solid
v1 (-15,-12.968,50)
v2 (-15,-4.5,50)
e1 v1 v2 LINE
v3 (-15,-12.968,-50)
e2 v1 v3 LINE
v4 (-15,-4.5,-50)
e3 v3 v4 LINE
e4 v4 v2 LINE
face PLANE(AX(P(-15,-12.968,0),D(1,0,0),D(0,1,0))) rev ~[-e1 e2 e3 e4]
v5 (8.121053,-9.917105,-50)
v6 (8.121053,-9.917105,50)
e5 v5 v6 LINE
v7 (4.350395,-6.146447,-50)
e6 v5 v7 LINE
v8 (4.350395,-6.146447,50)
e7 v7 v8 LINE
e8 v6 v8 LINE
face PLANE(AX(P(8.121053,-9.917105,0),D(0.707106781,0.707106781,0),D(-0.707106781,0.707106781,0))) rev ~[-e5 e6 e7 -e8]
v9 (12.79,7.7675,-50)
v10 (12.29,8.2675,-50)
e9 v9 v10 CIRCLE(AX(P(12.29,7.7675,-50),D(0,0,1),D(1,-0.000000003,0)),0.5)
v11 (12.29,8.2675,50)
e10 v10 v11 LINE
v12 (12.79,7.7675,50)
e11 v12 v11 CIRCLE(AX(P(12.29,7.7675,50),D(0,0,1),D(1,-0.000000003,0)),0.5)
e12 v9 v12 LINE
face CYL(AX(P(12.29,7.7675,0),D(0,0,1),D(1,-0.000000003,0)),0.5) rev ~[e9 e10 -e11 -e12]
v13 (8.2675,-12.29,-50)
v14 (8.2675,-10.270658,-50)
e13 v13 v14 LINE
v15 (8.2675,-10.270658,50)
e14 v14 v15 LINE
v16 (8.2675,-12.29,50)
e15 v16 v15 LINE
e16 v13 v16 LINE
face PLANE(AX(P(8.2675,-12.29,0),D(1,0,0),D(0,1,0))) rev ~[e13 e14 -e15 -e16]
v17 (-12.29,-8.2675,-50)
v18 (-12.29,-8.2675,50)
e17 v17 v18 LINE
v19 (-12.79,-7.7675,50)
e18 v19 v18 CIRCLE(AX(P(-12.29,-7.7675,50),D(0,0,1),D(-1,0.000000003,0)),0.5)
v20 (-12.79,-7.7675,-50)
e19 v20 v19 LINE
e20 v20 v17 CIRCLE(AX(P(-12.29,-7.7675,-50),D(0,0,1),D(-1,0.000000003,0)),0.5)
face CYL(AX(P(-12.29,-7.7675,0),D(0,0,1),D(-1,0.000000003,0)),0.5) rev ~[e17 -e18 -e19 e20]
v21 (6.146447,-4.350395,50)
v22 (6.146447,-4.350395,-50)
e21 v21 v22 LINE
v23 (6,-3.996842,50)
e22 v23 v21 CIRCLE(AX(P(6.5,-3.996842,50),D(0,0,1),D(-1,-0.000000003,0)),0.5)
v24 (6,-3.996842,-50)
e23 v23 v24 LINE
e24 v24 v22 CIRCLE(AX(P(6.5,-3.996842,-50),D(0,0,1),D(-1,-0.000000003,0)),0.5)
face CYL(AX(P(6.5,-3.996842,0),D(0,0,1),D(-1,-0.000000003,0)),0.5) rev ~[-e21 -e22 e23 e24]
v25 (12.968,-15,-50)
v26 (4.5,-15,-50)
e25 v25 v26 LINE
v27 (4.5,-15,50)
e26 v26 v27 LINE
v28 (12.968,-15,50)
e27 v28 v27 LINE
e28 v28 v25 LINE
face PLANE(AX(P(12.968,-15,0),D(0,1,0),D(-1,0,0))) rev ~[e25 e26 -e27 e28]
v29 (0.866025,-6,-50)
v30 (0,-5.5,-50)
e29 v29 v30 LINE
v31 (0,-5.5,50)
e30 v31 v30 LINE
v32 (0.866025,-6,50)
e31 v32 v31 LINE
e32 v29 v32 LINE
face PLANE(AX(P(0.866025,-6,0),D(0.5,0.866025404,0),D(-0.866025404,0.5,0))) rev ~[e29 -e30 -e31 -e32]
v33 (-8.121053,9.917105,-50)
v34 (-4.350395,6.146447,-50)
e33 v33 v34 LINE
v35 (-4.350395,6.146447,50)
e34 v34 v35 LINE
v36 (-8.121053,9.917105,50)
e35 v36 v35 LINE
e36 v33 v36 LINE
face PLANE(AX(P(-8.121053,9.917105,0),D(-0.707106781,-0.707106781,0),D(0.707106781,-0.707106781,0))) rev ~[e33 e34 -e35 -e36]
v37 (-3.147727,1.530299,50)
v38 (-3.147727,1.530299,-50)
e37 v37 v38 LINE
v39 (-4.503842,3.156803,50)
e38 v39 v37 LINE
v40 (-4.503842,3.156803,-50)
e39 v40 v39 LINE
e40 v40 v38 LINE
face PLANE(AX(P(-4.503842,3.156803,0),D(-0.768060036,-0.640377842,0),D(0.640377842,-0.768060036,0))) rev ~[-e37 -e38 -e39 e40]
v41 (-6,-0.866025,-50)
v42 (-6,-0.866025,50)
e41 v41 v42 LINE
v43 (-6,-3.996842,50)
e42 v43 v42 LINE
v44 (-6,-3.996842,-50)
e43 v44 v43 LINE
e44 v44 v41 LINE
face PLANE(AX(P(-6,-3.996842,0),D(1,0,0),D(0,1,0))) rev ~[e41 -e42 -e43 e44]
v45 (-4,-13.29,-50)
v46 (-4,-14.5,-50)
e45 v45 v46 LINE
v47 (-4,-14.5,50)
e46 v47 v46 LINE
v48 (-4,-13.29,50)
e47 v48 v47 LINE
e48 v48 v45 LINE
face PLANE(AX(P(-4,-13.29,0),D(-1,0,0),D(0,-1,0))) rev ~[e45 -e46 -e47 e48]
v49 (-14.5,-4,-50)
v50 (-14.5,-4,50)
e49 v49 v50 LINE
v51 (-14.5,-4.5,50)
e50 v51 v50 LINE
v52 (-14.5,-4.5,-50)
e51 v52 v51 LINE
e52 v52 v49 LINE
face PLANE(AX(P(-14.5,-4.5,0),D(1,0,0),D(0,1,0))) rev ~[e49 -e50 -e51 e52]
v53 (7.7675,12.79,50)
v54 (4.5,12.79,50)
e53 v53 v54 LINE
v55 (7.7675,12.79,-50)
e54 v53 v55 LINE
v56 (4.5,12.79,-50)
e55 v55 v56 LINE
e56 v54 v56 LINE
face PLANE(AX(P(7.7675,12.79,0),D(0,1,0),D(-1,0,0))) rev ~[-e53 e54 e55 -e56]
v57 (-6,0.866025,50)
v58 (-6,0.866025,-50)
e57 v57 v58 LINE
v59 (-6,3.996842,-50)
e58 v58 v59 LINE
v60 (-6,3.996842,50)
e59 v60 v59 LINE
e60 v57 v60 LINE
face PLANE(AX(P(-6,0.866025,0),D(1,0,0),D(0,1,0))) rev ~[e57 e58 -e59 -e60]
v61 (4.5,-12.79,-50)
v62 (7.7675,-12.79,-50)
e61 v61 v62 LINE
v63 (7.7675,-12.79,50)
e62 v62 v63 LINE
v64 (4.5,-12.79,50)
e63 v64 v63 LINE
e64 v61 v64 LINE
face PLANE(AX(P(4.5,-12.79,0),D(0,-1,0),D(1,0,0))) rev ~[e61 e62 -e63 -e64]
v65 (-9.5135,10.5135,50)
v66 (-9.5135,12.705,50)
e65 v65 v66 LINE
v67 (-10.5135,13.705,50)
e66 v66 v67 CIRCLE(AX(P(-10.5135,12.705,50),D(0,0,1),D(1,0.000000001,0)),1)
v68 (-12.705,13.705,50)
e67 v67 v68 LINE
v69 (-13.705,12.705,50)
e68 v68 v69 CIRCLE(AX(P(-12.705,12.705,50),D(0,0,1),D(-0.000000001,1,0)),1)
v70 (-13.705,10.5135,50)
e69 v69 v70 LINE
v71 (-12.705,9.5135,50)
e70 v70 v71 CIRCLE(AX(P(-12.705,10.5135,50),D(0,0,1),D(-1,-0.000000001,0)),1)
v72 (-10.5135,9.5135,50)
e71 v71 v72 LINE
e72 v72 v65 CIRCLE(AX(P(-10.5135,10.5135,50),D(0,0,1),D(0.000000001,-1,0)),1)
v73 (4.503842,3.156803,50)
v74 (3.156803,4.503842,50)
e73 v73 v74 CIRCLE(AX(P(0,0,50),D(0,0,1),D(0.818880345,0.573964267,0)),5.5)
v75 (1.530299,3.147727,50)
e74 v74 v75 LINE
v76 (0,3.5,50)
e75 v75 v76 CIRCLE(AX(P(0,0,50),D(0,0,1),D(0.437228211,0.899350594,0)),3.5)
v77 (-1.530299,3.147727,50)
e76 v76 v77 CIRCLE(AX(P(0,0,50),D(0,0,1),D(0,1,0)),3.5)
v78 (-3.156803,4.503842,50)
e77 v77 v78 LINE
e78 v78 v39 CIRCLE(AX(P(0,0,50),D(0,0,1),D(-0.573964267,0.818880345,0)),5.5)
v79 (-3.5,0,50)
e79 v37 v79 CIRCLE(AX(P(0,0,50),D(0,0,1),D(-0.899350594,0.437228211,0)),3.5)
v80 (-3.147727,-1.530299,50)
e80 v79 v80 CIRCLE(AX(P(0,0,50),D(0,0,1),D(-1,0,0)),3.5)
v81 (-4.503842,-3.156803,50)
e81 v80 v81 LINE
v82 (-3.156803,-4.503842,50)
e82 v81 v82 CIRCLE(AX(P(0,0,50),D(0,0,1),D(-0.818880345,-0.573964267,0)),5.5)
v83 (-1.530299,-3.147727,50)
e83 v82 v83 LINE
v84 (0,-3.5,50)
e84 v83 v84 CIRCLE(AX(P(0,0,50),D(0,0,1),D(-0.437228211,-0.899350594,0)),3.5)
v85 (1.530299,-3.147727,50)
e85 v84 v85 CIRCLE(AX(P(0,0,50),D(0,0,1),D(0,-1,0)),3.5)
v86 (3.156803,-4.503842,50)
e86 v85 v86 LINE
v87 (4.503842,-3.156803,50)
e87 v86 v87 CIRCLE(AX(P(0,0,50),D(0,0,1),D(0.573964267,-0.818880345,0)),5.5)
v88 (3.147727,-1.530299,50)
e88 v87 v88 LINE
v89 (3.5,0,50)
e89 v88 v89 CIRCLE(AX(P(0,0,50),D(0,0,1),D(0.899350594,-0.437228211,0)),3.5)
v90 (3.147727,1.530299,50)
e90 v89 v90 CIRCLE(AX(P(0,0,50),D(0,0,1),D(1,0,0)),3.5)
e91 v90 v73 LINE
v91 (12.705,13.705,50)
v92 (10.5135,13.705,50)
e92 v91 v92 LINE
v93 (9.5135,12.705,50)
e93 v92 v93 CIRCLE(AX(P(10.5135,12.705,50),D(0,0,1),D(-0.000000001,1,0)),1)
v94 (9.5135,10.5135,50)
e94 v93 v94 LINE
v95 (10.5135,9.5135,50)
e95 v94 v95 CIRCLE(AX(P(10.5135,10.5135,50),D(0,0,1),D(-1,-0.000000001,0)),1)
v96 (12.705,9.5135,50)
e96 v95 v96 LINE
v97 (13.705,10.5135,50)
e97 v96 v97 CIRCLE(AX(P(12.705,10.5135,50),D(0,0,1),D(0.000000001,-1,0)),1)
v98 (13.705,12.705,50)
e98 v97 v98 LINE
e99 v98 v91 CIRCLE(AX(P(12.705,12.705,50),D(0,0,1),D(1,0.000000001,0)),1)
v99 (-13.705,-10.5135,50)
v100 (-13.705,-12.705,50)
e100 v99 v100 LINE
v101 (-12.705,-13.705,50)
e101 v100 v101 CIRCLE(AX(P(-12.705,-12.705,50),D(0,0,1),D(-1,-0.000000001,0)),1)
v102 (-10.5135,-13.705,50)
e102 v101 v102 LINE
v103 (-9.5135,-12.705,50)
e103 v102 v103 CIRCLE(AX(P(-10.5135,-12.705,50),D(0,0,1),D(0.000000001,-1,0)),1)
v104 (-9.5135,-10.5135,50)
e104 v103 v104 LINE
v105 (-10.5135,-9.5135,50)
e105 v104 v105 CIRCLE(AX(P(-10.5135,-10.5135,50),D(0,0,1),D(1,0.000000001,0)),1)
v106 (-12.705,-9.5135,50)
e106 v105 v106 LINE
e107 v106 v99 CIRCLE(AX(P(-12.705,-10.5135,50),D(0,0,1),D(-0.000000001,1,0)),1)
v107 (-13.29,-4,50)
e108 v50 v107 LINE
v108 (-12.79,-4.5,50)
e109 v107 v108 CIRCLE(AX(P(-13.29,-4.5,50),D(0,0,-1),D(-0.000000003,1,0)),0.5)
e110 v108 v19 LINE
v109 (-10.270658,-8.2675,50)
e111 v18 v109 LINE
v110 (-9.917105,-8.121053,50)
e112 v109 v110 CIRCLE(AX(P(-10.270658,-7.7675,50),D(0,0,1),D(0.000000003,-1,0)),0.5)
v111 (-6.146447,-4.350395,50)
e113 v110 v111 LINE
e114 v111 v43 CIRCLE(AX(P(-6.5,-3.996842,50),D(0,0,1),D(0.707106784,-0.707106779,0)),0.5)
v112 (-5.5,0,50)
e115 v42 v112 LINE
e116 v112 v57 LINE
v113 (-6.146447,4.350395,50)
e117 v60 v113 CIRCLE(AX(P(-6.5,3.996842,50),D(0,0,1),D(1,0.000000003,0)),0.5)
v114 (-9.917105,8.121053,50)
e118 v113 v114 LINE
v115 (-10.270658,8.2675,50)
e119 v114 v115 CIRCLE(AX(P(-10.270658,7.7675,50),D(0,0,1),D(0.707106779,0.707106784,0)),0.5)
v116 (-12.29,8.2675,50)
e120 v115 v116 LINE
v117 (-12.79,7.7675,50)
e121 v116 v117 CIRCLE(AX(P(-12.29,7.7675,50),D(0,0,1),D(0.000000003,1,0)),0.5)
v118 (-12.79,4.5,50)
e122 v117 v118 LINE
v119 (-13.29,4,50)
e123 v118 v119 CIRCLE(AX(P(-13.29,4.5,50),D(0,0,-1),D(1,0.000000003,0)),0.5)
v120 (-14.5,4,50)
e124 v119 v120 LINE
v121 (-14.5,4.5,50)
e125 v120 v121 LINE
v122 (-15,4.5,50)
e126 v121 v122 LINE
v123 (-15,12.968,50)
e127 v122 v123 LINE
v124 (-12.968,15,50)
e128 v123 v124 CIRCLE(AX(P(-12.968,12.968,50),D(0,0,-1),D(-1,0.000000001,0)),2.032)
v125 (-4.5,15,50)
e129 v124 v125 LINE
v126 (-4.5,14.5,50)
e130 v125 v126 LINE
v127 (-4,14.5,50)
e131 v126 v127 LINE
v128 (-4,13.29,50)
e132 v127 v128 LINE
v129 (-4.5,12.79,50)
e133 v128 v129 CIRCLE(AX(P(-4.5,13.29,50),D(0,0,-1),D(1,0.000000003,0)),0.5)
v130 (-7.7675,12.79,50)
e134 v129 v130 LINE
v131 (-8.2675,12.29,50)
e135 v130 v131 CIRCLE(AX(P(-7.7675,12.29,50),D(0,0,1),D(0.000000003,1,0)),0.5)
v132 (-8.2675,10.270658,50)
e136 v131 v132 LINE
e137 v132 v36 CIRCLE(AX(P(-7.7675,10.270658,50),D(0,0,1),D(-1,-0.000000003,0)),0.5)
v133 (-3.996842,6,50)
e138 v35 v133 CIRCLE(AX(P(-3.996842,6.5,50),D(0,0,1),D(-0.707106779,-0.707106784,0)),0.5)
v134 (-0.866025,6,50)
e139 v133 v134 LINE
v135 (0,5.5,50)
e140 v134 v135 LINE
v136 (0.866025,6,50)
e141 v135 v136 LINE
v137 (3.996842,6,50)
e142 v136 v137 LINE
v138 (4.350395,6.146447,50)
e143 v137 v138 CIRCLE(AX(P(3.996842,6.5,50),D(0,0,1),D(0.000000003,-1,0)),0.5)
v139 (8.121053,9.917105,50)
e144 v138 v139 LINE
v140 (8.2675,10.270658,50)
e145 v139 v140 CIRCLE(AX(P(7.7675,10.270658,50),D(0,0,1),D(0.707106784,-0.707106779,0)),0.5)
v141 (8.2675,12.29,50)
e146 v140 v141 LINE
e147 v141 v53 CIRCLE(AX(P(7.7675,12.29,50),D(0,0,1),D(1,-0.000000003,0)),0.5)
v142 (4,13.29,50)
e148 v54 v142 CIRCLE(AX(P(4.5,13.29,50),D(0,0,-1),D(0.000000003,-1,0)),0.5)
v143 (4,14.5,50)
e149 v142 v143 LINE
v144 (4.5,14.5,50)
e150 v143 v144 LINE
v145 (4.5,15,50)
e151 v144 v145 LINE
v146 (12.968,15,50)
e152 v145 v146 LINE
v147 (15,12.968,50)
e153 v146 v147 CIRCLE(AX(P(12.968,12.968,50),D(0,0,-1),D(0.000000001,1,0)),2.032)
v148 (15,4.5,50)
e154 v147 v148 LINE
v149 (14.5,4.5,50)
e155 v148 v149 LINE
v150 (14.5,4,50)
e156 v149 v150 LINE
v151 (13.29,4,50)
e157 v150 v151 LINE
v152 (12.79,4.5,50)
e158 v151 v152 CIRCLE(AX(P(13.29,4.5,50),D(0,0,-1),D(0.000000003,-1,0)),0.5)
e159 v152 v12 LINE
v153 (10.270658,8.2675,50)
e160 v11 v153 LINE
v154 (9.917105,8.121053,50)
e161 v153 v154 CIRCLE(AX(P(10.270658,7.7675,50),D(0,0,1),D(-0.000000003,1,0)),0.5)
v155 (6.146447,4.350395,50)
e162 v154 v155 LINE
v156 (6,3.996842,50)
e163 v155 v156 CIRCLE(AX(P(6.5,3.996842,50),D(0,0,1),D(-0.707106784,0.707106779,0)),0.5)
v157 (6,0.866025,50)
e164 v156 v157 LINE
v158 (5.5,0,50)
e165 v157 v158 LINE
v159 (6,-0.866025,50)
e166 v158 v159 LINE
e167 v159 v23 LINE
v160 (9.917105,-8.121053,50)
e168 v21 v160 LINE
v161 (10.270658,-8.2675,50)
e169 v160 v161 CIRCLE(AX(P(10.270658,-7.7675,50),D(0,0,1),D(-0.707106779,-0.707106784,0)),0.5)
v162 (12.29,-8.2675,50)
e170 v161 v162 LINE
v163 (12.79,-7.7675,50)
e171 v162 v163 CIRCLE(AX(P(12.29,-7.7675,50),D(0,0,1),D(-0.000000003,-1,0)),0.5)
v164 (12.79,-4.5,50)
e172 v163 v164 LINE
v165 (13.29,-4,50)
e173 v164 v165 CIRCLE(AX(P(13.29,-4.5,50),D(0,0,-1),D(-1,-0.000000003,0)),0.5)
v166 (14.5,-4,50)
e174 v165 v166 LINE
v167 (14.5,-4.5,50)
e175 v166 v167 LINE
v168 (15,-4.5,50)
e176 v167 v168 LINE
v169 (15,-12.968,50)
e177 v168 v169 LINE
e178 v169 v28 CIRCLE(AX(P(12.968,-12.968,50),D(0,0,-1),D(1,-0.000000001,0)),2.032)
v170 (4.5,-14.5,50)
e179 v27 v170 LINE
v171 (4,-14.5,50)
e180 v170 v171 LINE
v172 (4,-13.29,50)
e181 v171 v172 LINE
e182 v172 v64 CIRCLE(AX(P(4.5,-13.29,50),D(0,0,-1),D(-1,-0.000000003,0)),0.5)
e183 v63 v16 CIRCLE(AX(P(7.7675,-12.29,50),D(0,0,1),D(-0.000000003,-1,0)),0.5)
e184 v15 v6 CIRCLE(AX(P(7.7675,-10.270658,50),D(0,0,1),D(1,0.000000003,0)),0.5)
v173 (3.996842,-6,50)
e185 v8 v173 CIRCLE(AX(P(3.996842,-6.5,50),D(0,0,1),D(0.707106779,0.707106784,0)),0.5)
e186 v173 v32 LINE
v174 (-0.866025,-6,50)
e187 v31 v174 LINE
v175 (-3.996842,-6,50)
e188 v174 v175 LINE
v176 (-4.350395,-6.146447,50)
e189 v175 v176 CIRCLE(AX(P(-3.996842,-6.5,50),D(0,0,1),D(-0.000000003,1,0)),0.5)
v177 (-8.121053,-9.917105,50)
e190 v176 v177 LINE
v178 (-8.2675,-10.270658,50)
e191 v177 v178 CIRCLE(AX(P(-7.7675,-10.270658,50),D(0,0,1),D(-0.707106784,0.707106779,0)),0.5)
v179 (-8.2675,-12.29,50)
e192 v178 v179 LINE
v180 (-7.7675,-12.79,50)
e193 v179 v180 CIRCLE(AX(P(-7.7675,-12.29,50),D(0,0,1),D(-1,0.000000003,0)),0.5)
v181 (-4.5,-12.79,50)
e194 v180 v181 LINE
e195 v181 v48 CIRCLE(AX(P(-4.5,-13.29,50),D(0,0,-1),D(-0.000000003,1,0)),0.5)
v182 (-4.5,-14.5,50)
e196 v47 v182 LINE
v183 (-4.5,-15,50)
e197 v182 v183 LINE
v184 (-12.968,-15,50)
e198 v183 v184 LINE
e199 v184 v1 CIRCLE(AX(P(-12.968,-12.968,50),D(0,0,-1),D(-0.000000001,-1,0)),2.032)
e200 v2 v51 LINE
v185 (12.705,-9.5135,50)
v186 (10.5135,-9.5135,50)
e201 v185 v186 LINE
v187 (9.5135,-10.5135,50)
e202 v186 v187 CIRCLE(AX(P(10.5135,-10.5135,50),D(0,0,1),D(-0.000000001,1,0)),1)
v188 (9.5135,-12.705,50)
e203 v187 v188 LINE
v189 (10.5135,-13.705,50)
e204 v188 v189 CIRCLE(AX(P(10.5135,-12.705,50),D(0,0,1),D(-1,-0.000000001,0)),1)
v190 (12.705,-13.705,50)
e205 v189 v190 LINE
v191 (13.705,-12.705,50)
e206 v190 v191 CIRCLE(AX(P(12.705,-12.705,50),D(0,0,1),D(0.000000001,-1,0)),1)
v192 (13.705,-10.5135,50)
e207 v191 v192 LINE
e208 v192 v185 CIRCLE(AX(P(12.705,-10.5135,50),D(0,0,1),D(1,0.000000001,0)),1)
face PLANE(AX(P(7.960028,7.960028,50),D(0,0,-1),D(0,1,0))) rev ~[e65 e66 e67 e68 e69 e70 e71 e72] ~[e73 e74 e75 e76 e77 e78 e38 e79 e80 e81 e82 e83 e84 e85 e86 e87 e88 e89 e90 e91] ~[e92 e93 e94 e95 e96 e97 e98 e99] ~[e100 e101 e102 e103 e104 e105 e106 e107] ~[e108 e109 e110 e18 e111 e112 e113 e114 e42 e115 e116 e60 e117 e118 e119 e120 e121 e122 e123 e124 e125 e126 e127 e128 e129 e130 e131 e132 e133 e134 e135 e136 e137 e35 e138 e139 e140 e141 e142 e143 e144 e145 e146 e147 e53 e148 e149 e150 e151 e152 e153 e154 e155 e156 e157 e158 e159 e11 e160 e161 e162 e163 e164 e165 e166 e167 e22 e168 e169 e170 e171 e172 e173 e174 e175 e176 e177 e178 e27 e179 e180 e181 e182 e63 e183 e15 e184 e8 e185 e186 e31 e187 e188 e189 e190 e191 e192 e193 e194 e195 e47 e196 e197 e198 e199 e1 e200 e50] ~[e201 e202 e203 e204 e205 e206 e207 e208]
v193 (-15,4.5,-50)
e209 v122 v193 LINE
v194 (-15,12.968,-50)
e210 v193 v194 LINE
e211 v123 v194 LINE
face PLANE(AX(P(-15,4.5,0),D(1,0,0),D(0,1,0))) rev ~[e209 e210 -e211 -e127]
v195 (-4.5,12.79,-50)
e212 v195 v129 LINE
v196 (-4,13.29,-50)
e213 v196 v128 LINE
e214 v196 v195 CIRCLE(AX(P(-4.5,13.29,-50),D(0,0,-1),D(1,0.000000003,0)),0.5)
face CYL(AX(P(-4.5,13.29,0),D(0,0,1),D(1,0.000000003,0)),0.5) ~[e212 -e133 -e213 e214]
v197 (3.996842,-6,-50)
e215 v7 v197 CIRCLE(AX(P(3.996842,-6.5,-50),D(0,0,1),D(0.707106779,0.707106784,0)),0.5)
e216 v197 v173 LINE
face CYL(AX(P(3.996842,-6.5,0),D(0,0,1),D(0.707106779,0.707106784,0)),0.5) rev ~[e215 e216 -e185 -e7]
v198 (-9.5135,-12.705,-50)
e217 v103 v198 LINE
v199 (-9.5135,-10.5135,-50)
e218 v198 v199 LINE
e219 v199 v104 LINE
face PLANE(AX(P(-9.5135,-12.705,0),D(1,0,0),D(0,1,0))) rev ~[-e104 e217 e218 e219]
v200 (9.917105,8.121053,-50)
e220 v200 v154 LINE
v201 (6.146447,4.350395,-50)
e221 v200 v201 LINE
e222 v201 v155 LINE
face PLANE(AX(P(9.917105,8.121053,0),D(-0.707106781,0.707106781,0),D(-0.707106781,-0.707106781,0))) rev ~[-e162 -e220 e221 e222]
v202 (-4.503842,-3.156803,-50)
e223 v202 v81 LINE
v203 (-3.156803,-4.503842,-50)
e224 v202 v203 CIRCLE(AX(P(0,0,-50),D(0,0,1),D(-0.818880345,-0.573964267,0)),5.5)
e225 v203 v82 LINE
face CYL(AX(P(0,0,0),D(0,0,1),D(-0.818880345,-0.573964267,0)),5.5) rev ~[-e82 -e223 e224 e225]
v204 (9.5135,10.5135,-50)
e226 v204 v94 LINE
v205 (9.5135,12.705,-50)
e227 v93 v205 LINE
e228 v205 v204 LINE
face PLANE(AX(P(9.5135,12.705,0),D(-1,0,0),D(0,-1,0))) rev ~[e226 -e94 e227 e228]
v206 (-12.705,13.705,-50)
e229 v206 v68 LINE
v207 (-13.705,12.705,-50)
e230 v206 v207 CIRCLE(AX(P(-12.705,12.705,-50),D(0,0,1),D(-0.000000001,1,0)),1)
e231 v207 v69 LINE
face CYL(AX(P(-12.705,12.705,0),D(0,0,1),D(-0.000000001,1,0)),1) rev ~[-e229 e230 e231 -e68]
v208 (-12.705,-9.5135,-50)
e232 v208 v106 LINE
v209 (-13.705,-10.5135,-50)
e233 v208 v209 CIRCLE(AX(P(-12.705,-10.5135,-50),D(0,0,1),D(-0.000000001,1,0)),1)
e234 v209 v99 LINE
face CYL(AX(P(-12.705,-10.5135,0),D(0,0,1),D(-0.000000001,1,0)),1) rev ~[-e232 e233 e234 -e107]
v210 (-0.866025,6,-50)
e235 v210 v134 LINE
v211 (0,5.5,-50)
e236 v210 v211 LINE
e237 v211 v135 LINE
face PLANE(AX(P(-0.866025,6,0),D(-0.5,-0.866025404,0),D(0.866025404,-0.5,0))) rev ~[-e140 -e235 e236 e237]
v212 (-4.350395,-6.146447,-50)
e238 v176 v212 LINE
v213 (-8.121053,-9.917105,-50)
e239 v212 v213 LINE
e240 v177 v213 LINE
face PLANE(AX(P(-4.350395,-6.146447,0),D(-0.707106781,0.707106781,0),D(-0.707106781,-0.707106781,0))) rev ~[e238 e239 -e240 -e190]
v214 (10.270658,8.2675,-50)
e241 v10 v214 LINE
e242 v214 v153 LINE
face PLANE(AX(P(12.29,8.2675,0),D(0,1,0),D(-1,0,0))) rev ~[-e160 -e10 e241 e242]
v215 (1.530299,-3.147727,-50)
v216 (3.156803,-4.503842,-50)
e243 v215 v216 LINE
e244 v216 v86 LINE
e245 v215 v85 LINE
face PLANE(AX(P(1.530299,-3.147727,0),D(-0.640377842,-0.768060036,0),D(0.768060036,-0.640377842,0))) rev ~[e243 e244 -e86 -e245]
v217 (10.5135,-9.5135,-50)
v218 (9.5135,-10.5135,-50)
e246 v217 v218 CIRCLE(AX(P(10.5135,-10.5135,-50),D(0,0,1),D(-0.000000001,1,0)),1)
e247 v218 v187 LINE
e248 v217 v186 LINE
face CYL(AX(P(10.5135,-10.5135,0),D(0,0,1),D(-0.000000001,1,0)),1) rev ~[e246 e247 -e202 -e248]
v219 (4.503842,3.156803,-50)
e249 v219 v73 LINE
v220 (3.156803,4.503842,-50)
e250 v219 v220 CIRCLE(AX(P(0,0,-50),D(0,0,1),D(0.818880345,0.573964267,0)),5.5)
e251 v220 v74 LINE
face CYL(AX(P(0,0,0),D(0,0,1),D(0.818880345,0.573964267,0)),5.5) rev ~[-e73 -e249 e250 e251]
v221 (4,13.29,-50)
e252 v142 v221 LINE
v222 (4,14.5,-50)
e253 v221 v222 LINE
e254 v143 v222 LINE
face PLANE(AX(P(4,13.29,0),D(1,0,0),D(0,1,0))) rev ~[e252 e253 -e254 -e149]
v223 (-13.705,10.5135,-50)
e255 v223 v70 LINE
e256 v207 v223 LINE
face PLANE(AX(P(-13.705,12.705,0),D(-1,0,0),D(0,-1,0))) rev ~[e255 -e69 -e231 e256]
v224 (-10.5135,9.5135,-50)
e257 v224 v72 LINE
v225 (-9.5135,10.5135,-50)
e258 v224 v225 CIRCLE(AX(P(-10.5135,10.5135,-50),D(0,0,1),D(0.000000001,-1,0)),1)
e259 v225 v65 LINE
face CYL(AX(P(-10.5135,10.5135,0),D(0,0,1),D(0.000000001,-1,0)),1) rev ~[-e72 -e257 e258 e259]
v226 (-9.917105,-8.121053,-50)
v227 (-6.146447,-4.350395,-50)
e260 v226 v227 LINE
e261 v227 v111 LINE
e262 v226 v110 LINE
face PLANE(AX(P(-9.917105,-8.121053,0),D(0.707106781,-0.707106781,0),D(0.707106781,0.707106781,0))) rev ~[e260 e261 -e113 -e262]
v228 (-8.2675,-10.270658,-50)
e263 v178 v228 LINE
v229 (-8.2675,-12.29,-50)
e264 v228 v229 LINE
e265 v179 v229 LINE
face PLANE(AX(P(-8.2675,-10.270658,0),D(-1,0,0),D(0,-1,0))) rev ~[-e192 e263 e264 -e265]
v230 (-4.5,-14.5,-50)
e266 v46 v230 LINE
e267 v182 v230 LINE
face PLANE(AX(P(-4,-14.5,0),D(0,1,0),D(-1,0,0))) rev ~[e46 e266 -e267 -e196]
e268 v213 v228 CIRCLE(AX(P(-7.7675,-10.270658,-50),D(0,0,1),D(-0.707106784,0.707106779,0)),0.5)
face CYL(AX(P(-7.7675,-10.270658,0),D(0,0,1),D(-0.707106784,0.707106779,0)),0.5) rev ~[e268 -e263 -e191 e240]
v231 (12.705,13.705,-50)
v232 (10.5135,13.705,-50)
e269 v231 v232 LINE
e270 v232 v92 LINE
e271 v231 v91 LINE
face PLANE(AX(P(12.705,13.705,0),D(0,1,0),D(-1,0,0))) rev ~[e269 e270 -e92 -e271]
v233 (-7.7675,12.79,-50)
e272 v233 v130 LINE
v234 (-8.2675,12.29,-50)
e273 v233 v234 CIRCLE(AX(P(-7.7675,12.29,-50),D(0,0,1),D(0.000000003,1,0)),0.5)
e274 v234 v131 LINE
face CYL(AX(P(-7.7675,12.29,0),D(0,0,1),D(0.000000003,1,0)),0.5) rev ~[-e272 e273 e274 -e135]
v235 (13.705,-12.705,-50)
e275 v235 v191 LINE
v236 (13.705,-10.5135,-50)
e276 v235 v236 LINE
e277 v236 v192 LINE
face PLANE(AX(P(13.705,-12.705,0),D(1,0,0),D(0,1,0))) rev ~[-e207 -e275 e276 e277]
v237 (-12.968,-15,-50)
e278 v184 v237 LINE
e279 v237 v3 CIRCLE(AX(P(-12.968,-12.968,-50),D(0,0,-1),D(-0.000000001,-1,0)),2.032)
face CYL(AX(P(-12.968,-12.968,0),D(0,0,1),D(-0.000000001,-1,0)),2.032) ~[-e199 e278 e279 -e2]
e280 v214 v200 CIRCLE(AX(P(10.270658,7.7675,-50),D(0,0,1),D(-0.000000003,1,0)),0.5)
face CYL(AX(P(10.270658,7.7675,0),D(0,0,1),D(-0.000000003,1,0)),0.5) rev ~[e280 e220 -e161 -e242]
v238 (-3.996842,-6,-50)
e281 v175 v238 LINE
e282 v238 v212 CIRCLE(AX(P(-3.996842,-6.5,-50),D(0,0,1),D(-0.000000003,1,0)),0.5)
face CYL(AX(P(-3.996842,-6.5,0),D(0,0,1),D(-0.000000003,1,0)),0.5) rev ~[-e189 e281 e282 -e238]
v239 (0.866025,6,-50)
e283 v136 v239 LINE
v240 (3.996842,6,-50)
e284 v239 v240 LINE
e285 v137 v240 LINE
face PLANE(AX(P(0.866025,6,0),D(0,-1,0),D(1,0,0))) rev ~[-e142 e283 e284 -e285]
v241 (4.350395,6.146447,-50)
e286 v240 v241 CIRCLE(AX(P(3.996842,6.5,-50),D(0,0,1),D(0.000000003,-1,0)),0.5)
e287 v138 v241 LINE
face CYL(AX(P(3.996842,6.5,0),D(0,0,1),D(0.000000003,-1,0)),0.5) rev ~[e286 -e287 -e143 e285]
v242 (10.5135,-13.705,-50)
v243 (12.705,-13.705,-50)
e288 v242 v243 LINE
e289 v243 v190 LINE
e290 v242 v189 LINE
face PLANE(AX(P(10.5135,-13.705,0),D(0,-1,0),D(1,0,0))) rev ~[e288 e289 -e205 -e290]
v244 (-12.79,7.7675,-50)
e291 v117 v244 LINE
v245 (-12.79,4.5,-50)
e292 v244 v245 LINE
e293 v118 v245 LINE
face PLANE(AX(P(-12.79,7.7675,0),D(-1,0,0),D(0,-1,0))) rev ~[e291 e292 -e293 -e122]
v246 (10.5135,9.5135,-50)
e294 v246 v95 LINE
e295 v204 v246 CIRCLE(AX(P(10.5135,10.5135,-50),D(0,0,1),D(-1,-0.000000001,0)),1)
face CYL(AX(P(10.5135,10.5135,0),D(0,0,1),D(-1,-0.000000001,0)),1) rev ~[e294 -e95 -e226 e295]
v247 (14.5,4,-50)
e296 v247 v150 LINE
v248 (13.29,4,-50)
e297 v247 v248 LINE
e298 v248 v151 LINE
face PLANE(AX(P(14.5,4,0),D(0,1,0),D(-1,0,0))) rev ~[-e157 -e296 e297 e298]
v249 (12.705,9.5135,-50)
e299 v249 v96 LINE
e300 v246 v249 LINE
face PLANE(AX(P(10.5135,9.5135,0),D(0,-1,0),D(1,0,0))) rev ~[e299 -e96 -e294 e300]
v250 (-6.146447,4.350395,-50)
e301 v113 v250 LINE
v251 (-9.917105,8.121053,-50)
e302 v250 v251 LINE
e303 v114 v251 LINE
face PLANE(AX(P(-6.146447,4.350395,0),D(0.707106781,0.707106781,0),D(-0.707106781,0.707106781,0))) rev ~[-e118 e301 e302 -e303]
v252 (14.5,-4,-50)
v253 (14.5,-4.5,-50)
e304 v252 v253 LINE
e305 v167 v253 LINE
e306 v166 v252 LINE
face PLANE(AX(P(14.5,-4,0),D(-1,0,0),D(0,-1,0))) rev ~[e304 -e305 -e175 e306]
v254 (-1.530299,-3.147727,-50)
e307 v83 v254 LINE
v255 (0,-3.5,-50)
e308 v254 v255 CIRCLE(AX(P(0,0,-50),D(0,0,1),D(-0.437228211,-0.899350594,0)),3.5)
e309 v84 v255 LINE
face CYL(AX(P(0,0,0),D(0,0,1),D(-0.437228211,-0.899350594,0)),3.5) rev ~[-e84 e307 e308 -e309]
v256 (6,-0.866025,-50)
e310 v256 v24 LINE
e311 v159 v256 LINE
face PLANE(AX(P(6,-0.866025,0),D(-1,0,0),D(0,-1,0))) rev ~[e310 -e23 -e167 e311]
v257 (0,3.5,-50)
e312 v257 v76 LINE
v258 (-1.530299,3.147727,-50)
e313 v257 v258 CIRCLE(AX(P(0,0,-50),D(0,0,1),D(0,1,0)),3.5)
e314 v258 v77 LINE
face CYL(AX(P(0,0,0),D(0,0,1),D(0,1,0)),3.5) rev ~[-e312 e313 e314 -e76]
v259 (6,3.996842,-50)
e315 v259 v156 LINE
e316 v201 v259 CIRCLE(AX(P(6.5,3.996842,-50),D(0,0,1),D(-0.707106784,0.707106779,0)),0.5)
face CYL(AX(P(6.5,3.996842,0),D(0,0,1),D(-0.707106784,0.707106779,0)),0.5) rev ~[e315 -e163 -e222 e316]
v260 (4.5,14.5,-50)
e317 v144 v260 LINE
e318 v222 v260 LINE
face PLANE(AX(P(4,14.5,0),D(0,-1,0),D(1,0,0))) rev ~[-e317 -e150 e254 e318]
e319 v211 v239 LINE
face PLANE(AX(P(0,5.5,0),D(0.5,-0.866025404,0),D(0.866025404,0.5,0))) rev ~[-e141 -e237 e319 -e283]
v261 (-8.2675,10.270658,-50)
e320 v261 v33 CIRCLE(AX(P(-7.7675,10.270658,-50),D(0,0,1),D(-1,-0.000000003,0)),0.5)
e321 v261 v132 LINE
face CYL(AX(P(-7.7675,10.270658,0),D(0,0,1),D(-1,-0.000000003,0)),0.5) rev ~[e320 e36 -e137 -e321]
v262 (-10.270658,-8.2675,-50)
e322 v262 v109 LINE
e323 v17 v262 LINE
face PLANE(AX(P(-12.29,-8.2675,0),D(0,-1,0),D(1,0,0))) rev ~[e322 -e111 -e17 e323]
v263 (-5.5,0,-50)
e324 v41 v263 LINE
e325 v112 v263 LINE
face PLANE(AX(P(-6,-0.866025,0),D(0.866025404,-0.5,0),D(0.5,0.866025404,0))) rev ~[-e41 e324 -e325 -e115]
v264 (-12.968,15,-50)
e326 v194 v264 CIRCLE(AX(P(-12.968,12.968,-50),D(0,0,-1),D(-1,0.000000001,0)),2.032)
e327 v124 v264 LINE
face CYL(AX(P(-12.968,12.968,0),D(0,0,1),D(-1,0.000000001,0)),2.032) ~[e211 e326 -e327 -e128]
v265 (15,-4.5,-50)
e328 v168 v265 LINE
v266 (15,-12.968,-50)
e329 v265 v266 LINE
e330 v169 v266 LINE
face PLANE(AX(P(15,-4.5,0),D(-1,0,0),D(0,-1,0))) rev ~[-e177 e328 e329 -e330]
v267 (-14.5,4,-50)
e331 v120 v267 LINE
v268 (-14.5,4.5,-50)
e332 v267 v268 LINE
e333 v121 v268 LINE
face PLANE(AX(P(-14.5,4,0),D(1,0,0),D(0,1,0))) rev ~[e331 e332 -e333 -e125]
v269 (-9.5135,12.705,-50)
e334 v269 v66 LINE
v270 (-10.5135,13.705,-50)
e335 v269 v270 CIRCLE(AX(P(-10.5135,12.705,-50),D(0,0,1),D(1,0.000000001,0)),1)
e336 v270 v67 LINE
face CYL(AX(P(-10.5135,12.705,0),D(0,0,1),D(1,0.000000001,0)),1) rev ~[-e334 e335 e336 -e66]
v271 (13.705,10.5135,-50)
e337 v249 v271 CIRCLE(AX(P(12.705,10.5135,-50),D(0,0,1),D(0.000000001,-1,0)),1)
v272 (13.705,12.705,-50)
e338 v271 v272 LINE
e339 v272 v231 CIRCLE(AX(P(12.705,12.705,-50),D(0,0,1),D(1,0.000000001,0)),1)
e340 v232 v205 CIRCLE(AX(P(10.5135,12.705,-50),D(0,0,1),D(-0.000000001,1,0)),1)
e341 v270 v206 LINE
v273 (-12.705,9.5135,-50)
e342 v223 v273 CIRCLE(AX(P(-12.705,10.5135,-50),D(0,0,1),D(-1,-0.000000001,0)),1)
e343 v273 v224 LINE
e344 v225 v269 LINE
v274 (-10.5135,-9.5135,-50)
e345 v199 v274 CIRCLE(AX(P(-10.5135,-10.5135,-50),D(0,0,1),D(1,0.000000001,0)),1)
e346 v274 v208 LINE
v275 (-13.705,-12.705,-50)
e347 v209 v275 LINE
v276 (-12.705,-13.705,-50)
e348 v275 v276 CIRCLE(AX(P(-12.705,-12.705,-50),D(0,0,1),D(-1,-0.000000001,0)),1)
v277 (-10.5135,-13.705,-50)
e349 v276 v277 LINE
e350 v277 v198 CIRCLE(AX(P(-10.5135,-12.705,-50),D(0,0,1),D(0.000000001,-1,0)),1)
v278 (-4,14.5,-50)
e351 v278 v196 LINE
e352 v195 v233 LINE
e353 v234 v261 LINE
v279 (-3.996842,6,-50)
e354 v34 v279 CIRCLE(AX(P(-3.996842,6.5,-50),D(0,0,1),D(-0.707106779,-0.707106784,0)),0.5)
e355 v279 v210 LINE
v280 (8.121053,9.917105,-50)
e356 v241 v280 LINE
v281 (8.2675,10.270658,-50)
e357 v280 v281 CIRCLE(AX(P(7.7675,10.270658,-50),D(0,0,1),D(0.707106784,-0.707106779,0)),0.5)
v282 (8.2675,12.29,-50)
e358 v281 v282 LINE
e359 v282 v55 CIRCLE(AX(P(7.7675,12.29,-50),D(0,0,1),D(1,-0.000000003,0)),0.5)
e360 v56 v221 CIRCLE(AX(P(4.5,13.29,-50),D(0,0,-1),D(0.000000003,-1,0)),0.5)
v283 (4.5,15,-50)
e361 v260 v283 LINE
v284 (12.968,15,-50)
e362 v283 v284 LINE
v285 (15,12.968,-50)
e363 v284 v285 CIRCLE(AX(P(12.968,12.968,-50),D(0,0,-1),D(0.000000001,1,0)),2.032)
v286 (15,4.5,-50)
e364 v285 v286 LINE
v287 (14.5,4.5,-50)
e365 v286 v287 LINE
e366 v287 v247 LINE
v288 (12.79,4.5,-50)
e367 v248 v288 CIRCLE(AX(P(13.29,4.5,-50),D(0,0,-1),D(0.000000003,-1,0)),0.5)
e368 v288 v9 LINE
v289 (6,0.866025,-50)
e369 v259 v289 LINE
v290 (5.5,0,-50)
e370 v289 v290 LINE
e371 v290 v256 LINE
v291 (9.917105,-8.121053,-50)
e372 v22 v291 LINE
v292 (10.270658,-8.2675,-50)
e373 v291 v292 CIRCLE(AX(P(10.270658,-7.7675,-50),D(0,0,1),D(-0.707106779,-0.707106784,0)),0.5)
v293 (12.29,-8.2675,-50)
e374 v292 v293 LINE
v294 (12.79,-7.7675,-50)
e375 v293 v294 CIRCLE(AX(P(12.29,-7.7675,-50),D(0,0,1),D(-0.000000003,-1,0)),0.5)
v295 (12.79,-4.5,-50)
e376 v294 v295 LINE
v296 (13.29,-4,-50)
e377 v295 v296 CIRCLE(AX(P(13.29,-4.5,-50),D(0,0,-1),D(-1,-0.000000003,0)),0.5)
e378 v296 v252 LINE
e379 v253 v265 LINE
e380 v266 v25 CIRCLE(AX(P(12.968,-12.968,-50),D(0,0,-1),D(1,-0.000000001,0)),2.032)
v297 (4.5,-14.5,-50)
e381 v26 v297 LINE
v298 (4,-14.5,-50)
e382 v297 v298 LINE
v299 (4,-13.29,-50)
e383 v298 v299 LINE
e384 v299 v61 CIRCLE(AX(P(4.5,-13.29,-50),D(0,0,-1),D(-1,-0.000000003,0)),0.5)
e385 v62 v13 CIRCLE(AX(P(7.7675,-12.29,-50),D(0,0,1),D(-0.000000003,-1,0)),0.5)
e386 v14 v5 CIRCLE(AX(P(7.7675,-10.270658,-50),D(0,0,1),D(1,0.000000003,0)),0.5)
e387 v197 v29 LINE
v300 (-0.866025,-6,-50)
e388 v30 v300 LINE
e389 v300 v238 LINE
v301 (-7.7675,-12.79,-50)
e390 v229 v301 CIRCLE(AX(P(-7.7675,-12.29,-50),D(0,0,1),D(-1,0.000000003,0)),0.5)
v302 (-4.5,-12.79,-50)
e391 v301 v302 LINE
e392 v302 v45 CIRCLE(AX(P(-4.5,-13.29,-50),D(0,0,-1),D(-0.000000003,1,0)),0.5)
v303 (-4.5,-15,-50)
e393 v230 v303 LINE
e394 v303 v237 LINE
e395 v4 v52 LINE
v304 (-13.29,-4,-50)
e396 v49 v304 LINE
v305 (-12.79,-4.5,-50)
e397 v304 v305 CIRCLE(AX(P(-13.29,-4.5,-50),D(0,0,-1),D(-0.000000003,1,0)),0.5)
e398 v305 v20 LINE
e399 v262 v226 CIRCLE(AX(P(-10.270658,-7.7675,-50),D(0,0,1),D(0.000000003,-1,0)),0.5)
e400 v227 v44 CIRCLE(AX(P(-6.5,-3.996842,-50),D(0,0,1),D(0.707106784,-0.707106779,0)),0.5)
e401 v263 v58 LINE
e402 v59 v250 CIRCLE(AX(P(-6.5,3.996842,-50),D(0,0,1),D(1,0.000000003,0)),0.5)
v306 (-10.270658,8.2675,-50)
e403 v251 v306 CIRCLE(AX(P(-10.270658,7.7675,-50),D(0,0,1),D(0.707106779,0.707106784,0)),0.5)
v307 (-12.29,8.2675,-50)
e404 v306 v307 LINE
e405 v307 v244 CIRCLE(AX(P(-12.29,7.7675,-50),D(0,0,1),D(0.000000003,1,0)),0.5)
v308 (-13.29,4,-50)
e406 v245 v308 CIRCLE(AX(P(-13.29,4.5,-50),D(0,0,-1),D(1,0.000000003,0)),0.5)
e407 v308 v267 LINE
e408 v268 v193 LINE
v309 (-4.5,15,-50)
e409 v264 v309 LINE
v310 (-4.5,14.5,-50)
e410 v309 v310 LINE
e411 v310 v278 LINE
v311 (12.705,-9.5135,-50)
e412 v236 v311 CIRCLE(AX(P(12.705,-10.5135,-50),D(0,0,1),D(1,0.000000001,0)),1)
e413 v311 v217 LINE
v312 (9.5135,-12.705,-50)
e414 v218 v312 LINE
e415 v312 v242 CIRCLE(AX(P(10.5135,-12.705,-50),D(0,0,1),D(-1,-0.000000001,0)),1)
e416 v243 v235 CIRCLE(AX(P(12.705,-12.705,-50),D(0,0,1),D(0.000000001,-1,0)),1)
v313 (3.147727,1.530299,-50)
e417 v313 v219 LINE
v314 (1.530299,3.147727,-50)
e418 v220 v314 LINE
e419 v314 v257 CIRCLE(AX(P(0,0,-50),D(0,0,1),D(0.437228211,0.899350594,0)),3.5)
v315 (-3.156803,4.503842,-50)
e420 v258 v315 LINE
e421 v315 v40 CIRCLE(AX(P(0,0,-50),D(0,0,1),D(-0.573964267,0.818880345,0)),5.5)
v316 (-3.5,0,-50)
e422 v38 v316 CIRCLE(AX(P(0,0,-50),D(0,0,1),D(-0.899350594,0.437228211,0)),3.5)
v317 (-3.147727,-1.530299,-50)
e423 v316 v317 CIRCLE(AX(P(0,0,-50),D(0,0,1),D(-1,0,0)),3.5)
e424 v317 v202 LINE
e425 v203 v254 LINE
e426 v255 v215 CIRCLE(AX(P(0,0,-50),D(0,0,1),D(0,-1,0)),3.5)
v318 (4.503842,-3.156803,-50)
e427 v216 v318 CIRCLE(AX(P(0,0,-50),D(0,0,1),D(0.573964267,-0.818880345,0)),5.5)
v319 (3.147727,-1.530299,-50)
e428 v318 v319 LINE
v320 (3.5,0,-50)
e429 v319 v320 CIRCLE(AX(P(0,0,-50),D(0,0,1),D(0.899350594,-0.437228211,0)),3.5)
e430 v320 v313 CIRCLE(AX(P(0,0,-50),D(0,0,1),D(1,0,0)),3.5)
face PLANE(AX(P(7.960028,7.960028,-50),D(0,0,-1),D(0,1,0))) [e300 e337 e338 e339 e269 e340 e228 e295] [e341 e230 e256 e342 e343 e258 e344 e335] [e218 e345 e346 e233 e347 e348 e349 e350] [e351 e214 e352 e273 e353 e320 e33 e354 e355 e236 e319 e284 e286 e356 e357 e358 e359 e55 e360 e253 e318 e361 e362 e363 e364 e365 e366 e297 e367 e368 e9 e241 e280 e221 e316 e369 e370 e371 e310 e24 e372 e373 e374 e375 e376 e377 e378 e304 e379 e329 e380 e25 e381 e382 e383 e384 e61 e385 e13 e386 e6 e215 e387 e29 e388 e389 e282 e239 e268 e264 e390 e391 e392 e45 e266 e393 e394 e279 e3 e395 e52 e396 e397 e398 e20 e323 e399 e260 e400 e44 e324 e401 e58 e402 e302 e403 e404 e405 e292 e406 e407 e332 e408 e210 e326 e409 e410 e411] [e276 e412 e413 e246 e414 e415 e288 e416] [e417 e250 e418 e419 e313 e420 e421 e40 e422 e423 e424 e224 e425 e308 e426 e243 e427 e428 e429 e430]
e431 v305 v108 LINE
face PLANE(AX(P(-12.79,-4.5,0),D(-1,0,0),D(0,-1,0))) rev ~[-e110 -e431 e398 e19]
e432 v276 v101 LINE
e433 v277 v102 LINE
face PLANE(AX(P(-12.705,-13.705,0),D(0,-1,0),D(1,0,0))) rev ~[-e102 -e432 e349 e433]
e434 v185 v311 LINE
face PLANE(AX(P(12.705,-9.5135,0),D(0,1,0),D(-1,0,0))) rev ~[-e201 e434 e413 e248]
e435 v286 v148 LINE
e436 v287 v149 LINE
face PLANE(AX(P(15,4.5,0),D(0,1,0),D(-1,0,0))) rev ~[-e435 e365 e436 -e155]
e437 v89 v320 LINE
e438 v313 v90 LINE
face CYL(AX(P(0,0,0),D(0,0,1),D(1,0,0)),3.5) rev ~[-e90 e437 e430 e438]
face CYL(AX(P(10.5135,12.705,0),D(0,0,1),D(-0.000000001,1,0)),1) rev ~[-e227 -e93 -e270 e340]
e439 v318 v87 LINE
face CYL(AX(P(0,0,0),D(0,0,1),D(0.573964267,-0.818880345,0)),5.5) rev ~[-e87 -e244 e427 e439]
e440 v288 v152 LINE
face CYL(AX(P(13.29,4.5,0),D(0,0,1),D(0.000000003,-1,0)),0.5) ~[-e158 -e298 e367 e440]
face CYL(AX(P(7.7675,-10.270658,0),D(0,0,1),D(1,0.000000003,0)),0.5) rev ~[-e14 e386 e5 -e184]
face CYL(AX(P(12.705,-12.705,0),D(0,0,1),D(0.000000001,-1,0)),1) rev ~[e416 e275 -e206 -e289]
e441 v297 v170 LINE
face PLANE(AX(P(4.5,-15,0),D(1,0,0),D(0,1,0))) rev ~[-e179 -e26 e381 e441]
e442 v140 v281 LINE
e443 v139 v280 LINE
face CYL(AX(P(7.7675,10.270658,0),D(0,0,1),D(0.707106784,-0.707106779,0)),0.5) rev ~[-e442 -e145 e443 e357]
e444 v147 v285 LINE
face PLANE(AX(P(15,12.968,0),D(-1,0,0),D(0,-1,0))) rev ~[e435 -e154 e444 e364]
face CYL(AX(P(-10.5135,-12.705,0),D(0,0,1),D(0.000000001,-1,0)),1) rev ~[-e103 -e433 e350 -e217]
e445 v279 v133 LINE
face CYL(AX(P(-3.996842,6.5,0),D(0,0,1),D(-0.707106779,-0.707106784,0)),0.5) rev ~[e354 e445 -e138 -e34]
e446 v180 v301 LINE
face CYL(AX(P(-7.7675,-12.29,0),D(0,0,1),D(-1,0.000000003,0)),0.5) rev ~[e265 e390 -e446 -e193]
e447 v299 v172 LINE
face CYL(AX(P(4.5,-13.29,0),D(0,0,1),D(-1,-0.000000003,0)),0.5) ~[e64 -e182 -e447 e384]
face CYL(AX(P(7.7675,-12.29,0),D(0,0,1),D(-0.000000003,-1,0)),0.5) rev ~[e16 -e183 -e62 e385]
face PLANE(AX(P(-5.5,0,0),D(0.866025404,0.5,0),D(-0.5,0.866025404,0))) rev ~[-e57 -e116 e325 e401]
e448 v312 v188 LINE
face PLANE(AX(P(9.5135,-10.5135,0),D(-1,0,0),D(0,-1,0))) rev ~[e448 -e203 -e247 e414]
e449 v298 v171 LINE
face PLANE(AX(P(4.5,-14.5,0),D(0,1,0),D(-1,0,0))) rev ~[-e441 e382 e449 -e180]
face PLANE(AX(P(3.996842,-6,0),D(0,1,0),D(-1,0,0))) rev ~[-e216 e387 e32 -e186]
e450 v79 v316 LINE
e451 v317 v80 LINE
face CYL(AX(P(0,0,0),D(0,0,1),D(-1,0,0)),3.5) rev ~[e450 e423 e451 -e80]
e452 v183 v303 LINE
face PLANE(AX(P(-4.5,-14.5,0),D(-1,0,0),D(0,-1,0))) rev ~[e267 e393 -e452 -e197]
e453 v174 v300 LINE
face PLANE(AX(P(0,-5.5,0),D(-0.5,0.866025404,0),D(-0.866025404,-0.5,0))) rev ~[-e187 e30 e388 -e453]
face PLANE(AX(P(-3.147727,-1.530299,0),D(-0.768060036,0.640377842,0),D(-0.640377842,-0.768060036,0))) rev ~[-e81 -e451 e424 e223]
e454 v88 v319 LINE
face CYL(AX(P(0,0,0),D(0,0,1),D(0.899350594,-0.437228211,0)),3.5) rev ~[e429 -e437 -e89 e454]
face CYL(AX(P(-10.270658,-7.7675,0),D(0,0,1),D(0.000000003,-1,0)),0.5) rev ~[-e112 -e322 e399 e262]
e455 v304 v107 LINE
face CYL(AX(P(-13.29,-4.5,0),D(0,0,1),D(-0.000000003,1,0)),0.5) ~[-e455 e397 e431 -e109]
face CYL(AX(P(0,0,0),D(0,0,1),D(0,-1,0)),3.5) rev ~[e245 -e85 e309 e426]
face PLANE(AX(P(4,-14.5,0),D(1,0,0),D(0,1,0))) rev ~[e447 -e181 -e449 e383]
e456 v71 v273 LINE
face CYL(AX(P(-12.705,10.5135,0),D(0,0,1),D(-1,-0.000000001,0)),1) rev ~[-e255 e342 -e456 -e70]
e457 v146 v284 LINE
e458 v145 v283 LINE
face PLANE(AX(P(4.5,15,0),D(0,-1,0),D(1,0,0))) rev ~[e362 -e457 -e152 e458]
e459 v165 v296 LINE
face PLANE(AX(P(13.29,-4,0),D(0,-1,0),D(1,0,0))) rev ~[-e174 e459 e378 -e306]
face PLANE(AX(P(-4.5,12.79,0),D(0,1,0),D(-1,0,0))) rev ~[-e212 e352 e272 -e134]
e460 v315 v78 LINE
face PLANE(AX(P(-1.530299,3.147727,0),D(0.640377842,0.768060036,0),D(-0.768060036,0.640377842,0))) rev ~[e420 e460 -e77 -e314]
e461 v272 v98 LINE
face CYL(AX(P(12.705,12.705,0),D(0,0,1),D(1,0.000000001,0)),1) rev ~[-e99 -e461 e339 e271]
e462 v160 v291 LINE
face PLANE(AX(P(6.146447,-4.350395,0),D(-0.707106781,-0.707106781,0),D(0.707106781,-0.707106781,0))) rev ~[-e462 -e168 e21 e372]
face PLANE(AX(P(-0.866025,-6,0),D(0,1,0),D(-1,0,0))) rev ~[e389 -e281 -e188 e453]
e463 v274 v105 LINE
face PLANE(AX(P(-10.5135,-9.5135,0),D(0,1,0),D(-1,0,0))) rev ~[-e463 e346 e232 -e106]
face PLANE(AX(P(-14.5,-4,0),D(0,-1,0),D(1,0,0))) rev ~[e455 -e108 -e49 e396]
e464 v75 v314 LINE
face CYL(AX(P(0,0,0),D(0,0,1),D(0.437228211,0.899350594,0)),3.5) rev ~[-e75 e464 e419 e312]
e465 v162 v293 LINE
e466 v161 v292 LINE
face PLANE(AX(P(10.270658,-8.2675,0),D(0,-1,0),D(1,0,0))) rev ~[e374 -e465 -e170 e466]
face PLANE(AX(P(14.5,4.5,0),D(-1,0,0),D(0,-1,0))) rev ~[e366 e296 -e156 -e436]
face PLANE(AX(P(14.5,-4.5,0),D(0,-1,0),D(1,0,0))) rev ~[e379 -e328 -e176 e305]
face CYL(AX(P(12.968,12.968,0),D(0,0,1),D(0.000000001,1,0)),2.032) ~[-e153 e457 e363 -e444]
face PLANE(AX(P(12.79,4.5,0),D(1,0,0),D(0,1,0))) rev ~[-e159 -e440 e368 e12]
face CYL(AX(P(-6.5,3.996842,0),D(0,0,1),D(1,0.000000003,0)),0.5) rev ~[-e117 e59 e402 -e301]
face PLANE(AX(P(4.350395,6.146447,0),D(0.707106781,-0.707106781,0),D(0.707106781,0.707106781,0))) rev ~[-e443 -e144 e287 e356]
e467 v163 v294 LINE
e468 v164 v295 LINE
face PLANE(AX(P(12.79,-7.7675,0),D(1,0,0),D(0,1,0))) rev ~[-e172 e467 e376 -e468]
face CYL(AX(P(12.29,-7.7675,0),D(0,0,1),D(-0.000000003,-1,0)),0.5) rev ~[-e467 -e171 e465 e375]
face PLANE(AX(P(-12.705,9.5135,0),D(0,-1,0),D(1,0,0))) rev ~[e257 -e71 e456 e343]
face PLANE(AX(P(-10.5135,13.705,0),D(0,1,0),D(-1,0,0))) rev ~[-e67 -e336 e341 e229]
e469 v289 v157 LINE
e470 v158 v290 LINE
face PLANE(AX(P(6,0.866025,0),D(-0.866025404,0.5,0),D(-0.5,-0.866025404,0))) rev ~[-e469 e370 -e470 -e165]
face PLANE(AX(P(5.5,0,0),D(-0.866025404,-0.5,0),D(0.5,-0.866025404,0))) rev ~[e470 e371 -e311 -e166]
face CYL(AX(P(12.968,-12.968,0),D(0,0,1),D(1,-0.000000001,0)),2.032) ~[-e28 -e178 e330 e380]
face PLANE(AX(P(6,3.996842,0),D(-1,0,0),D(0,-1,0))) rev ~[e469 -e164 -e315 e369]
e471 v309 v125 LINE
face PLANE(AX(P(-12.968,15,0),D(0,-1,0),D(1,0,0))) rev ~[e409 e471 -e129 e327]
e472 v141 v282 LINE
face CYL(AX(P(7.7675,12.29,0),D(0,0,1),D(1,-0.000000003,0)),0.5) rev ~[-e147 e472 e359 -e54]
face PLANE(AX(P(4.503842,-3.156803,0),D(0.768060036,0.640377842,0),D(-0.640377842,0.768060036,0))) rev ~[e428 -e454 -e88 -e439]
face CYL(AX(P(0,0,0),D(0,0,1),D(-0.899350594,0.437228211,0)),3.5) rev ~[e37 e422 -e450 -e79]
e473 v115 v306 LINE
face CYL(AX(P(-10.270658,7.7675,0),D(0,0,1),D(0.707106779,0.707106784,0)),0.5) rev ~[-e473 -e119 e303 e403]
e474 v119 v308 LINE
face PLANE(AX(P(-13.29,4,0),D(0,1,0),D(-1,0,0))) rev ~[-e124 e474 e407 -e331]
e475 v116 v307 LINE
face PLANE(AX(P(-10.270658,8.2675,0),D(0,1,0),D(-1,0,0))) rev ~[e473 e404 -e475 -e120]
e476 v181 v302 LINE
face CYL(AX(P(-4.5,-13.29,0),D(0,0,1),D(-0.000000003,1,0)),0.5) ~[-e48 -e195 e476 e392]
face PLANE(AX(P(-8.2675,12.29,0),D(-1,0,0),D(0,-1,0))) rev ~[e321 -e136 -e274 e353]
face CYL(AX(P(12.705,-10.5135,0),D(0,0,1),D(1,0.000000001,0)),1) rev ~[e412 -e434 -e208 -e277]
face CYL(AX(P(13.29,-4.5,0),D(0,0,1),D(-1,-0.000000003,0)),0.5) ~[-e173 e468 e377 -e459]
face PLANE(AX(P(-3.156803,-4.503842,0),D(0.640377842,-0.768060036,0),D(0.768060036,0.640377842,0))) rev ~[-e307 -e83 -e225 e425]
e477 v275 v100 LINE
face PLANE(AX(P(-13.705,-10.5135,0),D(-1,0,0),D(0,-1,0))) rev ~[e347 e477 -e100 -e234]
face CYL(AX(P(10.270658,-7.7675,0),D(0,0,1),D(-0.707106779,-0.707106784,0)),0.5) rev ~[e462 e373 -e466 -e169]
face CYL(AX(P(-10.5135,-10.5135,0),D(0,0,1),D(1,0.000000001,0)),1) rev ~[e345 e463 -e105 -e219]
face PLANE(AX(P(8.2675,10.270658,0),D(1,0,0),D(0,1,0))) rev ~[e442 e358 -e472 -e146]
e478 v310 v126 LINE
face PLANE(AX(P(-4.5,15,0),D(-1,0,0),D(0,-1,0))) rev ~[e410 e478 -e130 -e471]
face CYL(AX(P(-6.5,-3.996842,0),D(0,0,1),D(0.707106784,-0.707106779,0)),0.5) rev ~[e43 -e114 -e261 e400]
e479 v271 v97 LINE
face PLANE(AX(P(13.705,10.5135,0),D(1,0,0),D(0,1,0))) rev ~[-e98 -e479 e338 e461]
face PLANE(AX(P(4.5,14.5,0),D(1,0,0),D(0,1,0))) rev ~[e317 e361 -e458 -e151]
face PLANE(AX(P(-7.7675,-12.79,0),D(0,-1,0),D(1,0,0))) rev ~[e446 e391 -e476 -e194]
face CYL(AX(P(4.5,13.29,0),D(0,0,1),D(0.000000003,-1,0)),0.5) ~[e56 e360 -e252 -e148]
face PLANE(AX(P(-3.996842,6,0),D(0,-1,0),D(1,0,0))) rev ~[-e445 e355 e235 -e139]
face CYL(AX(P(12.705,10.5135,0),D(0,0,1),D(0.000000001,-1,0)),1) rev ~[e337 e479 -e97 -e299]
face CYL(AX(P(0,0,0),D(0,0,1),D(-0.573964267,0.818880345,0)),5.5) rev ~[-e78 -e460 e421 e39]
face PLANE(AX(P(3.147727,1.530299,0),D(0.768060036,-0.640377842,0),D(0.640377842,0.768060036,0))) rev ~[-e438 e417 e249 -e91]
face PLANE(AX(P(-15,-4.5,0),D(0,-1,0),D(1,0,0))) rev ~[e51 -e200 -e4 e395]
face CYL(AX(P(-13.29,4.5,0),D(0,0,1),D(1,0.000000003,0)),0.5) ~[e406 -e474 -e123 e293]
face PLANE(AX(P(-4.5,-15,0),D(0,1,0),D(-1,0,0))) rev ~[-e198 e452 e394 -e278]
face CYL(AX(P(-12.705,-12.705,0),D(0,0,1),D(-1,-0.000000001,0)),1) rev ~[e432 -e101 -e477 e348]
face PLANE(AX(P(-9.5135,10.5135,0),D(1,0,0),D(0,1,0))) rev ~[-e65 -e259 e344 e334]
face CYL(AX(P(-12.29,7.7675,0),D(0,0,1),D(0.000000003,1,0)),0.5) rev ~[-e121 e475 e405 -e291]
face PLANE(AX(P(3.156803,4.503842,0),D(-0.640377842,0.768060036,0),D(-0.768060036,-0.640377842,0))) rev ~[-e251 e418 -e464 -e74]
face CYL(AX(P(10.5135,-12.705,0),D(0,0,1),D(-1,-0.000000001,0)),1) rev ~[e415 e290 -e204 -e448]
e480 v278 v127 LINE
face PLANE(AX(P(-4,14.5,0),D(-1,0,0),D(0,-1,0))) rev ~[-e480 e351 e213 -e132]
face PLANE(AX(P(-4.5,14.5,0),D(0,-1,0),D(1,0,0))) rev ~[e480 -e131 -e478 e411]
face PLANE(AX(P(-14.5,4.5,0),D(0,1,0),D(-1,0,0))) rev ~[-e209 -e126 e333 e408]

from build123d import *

# Parameters (mm, degrees)
BOSS_EXTRUDE1_DEPTH = 50
CIRPATTERN1_COUNT   = 4


with BuildPart() as part:
    # Sketch3 → Boss-Extrude1 (new, symmetric)
    with BuildSketch(Plane.XY):
        with BuildLine():
            Line((-4.503841895, 3.156803476), (-3.14772708, 1.530298739))
            ThreePointArc((-3.14772708, 1.530298739), (-3.410794979, 0.785160882), (-3.5, 0))
            Line((-3.5, 0), (-5.5, 0))
            Line((-5.5, 0), (-6, 0.866025404))
            Line((-6, 0.866025404), (-6, 3.996841995))
            ThreePointArc((-6, 3.996841995), (-6.038060234, 4.188183711), (-6.146446609, 4.350395385))
            Line((-6.146446609, 4.350395385), (-9.917104615, 8.121053391))
            ThreePointArc((-9.917104615, 8.121053391), (-10.079316289, 8.229439766), (-10.270658005, 8.2675))
            Line((-10.270658005, 8.2675), (-12.29, 8.2675))
            ThreePointArc((-12.29, 8.2675), (-12.643553391, 8.121053391), (-12.79, 7.7675))
            Line((-12.79, 7.7675), (-12.79, 4.5))
            ThreePointArc((-12.79, 4.5), (-12.936446609, 4.146446609), (-13.29, 4))
            Line((-13.29, 4), (-14.5, 4))
            Line((-14.5, 4), (-14.5, 4.5))
            Line((-14.5, 4.5), (-15, 4.5))
            Line((-15, 4.5), (-15, 12.968))
            ThreePointArc((-15, 12.968), (-14.404840979, 14.404840979), (-12.968, 15))
            Line((-12.968, 15), (-4.5, 15))
            Line((-4.5, 15), (-4.5, 14.5))
            Line((-4.5, 14.5), (-4, 14.5))
            Line((-4, 14.5), (-4, 13.29))
            ThreePointArc((-4, 13.29), (-4.146446609, 12.936446609), (-4.5, 12.79))
            Line((-4.5, 12.79), (-7.7675, 12.79))
            ThreePointArc((-7.7675, 12.79), (-8.121053391, 12.643553391), (-8.2675, 12.29))
            Line((-8.2675, 12.29), (-8.2675, 10.270658005))
            ThreePointArc((-8.2675, 10.270658005), (-8.229439766, 10.079316289), (-8.121053391, 9.917104615))
            Line((-8.121053391, 9.917104615), (-4.350395385, 6.146446609))
            ThreePointArc((-4.350395385, 6.146446609), (-4.188183711, 6.038060234), (-3.996841995, 6))
            Line((-3.996841995, 6), (-0.866025404, 6))
            Line((-0.866025404, 6), (0, 5.5))
            Line((0, 5.5), (0, 3.5))
            ThreePointArc((0, 3.5), (-0.785160882, 3.410794979), (-1.530298739, 3.14772708))
            Line((-1.530298739, 3.14772708), (-3.156803476, 4.503841895))
            ThreePointArc((-3.156803476, 4.503841895), (-3.889087297, 3.889087297), (-4.503841895, 3.156803476))
        make_face()
        with BuildLine():
            Line((-12.705, 9.5135), (-10.5135, 9.5135))
            ThreePointArc((-10.5135, 9.5135), (-9.806393219, 9.806393219), (-9.5135, 10.5135))
            Line((-9.5135, 10.5135), (-9.5135, 12.705))
            ThreePointArc((-9.5135, 12.705), (-9.806393219, 13.412106781), (-10.5135, 13.705))
            Line((-10.5135, 13.705), (-12.705, 13.705))
            ThreePointArc((-12.705, 13.705), (-13.412106781, 13.412106781), (-13.705, 12.705))
            Line((-13.705, 12.705), (-13.705, 10.5135))
            ThreePointArc((-13.705, 10.5135), (-13.412106781, 9.806393219), (-12.705, 9.5135))
        make_face(mode=Mode.SUBTRACT)
    boss_extrude1 = extrude(amount=BOSS_EXTRUDE1_DEPTH, both=True)

    # CirPattern1: Boss-Extrude1 ×4 about axis
    cirpattern1_axis = Axis((0, 0, 0), (0, 0, 1))
    for i in range(1, CIRPATTERN1_COUNT):
        add(boss_extrude1.rotate(cirpattern1_axis, i * 360 / CIRPATTERN1_COUNT))


solid = part.part
